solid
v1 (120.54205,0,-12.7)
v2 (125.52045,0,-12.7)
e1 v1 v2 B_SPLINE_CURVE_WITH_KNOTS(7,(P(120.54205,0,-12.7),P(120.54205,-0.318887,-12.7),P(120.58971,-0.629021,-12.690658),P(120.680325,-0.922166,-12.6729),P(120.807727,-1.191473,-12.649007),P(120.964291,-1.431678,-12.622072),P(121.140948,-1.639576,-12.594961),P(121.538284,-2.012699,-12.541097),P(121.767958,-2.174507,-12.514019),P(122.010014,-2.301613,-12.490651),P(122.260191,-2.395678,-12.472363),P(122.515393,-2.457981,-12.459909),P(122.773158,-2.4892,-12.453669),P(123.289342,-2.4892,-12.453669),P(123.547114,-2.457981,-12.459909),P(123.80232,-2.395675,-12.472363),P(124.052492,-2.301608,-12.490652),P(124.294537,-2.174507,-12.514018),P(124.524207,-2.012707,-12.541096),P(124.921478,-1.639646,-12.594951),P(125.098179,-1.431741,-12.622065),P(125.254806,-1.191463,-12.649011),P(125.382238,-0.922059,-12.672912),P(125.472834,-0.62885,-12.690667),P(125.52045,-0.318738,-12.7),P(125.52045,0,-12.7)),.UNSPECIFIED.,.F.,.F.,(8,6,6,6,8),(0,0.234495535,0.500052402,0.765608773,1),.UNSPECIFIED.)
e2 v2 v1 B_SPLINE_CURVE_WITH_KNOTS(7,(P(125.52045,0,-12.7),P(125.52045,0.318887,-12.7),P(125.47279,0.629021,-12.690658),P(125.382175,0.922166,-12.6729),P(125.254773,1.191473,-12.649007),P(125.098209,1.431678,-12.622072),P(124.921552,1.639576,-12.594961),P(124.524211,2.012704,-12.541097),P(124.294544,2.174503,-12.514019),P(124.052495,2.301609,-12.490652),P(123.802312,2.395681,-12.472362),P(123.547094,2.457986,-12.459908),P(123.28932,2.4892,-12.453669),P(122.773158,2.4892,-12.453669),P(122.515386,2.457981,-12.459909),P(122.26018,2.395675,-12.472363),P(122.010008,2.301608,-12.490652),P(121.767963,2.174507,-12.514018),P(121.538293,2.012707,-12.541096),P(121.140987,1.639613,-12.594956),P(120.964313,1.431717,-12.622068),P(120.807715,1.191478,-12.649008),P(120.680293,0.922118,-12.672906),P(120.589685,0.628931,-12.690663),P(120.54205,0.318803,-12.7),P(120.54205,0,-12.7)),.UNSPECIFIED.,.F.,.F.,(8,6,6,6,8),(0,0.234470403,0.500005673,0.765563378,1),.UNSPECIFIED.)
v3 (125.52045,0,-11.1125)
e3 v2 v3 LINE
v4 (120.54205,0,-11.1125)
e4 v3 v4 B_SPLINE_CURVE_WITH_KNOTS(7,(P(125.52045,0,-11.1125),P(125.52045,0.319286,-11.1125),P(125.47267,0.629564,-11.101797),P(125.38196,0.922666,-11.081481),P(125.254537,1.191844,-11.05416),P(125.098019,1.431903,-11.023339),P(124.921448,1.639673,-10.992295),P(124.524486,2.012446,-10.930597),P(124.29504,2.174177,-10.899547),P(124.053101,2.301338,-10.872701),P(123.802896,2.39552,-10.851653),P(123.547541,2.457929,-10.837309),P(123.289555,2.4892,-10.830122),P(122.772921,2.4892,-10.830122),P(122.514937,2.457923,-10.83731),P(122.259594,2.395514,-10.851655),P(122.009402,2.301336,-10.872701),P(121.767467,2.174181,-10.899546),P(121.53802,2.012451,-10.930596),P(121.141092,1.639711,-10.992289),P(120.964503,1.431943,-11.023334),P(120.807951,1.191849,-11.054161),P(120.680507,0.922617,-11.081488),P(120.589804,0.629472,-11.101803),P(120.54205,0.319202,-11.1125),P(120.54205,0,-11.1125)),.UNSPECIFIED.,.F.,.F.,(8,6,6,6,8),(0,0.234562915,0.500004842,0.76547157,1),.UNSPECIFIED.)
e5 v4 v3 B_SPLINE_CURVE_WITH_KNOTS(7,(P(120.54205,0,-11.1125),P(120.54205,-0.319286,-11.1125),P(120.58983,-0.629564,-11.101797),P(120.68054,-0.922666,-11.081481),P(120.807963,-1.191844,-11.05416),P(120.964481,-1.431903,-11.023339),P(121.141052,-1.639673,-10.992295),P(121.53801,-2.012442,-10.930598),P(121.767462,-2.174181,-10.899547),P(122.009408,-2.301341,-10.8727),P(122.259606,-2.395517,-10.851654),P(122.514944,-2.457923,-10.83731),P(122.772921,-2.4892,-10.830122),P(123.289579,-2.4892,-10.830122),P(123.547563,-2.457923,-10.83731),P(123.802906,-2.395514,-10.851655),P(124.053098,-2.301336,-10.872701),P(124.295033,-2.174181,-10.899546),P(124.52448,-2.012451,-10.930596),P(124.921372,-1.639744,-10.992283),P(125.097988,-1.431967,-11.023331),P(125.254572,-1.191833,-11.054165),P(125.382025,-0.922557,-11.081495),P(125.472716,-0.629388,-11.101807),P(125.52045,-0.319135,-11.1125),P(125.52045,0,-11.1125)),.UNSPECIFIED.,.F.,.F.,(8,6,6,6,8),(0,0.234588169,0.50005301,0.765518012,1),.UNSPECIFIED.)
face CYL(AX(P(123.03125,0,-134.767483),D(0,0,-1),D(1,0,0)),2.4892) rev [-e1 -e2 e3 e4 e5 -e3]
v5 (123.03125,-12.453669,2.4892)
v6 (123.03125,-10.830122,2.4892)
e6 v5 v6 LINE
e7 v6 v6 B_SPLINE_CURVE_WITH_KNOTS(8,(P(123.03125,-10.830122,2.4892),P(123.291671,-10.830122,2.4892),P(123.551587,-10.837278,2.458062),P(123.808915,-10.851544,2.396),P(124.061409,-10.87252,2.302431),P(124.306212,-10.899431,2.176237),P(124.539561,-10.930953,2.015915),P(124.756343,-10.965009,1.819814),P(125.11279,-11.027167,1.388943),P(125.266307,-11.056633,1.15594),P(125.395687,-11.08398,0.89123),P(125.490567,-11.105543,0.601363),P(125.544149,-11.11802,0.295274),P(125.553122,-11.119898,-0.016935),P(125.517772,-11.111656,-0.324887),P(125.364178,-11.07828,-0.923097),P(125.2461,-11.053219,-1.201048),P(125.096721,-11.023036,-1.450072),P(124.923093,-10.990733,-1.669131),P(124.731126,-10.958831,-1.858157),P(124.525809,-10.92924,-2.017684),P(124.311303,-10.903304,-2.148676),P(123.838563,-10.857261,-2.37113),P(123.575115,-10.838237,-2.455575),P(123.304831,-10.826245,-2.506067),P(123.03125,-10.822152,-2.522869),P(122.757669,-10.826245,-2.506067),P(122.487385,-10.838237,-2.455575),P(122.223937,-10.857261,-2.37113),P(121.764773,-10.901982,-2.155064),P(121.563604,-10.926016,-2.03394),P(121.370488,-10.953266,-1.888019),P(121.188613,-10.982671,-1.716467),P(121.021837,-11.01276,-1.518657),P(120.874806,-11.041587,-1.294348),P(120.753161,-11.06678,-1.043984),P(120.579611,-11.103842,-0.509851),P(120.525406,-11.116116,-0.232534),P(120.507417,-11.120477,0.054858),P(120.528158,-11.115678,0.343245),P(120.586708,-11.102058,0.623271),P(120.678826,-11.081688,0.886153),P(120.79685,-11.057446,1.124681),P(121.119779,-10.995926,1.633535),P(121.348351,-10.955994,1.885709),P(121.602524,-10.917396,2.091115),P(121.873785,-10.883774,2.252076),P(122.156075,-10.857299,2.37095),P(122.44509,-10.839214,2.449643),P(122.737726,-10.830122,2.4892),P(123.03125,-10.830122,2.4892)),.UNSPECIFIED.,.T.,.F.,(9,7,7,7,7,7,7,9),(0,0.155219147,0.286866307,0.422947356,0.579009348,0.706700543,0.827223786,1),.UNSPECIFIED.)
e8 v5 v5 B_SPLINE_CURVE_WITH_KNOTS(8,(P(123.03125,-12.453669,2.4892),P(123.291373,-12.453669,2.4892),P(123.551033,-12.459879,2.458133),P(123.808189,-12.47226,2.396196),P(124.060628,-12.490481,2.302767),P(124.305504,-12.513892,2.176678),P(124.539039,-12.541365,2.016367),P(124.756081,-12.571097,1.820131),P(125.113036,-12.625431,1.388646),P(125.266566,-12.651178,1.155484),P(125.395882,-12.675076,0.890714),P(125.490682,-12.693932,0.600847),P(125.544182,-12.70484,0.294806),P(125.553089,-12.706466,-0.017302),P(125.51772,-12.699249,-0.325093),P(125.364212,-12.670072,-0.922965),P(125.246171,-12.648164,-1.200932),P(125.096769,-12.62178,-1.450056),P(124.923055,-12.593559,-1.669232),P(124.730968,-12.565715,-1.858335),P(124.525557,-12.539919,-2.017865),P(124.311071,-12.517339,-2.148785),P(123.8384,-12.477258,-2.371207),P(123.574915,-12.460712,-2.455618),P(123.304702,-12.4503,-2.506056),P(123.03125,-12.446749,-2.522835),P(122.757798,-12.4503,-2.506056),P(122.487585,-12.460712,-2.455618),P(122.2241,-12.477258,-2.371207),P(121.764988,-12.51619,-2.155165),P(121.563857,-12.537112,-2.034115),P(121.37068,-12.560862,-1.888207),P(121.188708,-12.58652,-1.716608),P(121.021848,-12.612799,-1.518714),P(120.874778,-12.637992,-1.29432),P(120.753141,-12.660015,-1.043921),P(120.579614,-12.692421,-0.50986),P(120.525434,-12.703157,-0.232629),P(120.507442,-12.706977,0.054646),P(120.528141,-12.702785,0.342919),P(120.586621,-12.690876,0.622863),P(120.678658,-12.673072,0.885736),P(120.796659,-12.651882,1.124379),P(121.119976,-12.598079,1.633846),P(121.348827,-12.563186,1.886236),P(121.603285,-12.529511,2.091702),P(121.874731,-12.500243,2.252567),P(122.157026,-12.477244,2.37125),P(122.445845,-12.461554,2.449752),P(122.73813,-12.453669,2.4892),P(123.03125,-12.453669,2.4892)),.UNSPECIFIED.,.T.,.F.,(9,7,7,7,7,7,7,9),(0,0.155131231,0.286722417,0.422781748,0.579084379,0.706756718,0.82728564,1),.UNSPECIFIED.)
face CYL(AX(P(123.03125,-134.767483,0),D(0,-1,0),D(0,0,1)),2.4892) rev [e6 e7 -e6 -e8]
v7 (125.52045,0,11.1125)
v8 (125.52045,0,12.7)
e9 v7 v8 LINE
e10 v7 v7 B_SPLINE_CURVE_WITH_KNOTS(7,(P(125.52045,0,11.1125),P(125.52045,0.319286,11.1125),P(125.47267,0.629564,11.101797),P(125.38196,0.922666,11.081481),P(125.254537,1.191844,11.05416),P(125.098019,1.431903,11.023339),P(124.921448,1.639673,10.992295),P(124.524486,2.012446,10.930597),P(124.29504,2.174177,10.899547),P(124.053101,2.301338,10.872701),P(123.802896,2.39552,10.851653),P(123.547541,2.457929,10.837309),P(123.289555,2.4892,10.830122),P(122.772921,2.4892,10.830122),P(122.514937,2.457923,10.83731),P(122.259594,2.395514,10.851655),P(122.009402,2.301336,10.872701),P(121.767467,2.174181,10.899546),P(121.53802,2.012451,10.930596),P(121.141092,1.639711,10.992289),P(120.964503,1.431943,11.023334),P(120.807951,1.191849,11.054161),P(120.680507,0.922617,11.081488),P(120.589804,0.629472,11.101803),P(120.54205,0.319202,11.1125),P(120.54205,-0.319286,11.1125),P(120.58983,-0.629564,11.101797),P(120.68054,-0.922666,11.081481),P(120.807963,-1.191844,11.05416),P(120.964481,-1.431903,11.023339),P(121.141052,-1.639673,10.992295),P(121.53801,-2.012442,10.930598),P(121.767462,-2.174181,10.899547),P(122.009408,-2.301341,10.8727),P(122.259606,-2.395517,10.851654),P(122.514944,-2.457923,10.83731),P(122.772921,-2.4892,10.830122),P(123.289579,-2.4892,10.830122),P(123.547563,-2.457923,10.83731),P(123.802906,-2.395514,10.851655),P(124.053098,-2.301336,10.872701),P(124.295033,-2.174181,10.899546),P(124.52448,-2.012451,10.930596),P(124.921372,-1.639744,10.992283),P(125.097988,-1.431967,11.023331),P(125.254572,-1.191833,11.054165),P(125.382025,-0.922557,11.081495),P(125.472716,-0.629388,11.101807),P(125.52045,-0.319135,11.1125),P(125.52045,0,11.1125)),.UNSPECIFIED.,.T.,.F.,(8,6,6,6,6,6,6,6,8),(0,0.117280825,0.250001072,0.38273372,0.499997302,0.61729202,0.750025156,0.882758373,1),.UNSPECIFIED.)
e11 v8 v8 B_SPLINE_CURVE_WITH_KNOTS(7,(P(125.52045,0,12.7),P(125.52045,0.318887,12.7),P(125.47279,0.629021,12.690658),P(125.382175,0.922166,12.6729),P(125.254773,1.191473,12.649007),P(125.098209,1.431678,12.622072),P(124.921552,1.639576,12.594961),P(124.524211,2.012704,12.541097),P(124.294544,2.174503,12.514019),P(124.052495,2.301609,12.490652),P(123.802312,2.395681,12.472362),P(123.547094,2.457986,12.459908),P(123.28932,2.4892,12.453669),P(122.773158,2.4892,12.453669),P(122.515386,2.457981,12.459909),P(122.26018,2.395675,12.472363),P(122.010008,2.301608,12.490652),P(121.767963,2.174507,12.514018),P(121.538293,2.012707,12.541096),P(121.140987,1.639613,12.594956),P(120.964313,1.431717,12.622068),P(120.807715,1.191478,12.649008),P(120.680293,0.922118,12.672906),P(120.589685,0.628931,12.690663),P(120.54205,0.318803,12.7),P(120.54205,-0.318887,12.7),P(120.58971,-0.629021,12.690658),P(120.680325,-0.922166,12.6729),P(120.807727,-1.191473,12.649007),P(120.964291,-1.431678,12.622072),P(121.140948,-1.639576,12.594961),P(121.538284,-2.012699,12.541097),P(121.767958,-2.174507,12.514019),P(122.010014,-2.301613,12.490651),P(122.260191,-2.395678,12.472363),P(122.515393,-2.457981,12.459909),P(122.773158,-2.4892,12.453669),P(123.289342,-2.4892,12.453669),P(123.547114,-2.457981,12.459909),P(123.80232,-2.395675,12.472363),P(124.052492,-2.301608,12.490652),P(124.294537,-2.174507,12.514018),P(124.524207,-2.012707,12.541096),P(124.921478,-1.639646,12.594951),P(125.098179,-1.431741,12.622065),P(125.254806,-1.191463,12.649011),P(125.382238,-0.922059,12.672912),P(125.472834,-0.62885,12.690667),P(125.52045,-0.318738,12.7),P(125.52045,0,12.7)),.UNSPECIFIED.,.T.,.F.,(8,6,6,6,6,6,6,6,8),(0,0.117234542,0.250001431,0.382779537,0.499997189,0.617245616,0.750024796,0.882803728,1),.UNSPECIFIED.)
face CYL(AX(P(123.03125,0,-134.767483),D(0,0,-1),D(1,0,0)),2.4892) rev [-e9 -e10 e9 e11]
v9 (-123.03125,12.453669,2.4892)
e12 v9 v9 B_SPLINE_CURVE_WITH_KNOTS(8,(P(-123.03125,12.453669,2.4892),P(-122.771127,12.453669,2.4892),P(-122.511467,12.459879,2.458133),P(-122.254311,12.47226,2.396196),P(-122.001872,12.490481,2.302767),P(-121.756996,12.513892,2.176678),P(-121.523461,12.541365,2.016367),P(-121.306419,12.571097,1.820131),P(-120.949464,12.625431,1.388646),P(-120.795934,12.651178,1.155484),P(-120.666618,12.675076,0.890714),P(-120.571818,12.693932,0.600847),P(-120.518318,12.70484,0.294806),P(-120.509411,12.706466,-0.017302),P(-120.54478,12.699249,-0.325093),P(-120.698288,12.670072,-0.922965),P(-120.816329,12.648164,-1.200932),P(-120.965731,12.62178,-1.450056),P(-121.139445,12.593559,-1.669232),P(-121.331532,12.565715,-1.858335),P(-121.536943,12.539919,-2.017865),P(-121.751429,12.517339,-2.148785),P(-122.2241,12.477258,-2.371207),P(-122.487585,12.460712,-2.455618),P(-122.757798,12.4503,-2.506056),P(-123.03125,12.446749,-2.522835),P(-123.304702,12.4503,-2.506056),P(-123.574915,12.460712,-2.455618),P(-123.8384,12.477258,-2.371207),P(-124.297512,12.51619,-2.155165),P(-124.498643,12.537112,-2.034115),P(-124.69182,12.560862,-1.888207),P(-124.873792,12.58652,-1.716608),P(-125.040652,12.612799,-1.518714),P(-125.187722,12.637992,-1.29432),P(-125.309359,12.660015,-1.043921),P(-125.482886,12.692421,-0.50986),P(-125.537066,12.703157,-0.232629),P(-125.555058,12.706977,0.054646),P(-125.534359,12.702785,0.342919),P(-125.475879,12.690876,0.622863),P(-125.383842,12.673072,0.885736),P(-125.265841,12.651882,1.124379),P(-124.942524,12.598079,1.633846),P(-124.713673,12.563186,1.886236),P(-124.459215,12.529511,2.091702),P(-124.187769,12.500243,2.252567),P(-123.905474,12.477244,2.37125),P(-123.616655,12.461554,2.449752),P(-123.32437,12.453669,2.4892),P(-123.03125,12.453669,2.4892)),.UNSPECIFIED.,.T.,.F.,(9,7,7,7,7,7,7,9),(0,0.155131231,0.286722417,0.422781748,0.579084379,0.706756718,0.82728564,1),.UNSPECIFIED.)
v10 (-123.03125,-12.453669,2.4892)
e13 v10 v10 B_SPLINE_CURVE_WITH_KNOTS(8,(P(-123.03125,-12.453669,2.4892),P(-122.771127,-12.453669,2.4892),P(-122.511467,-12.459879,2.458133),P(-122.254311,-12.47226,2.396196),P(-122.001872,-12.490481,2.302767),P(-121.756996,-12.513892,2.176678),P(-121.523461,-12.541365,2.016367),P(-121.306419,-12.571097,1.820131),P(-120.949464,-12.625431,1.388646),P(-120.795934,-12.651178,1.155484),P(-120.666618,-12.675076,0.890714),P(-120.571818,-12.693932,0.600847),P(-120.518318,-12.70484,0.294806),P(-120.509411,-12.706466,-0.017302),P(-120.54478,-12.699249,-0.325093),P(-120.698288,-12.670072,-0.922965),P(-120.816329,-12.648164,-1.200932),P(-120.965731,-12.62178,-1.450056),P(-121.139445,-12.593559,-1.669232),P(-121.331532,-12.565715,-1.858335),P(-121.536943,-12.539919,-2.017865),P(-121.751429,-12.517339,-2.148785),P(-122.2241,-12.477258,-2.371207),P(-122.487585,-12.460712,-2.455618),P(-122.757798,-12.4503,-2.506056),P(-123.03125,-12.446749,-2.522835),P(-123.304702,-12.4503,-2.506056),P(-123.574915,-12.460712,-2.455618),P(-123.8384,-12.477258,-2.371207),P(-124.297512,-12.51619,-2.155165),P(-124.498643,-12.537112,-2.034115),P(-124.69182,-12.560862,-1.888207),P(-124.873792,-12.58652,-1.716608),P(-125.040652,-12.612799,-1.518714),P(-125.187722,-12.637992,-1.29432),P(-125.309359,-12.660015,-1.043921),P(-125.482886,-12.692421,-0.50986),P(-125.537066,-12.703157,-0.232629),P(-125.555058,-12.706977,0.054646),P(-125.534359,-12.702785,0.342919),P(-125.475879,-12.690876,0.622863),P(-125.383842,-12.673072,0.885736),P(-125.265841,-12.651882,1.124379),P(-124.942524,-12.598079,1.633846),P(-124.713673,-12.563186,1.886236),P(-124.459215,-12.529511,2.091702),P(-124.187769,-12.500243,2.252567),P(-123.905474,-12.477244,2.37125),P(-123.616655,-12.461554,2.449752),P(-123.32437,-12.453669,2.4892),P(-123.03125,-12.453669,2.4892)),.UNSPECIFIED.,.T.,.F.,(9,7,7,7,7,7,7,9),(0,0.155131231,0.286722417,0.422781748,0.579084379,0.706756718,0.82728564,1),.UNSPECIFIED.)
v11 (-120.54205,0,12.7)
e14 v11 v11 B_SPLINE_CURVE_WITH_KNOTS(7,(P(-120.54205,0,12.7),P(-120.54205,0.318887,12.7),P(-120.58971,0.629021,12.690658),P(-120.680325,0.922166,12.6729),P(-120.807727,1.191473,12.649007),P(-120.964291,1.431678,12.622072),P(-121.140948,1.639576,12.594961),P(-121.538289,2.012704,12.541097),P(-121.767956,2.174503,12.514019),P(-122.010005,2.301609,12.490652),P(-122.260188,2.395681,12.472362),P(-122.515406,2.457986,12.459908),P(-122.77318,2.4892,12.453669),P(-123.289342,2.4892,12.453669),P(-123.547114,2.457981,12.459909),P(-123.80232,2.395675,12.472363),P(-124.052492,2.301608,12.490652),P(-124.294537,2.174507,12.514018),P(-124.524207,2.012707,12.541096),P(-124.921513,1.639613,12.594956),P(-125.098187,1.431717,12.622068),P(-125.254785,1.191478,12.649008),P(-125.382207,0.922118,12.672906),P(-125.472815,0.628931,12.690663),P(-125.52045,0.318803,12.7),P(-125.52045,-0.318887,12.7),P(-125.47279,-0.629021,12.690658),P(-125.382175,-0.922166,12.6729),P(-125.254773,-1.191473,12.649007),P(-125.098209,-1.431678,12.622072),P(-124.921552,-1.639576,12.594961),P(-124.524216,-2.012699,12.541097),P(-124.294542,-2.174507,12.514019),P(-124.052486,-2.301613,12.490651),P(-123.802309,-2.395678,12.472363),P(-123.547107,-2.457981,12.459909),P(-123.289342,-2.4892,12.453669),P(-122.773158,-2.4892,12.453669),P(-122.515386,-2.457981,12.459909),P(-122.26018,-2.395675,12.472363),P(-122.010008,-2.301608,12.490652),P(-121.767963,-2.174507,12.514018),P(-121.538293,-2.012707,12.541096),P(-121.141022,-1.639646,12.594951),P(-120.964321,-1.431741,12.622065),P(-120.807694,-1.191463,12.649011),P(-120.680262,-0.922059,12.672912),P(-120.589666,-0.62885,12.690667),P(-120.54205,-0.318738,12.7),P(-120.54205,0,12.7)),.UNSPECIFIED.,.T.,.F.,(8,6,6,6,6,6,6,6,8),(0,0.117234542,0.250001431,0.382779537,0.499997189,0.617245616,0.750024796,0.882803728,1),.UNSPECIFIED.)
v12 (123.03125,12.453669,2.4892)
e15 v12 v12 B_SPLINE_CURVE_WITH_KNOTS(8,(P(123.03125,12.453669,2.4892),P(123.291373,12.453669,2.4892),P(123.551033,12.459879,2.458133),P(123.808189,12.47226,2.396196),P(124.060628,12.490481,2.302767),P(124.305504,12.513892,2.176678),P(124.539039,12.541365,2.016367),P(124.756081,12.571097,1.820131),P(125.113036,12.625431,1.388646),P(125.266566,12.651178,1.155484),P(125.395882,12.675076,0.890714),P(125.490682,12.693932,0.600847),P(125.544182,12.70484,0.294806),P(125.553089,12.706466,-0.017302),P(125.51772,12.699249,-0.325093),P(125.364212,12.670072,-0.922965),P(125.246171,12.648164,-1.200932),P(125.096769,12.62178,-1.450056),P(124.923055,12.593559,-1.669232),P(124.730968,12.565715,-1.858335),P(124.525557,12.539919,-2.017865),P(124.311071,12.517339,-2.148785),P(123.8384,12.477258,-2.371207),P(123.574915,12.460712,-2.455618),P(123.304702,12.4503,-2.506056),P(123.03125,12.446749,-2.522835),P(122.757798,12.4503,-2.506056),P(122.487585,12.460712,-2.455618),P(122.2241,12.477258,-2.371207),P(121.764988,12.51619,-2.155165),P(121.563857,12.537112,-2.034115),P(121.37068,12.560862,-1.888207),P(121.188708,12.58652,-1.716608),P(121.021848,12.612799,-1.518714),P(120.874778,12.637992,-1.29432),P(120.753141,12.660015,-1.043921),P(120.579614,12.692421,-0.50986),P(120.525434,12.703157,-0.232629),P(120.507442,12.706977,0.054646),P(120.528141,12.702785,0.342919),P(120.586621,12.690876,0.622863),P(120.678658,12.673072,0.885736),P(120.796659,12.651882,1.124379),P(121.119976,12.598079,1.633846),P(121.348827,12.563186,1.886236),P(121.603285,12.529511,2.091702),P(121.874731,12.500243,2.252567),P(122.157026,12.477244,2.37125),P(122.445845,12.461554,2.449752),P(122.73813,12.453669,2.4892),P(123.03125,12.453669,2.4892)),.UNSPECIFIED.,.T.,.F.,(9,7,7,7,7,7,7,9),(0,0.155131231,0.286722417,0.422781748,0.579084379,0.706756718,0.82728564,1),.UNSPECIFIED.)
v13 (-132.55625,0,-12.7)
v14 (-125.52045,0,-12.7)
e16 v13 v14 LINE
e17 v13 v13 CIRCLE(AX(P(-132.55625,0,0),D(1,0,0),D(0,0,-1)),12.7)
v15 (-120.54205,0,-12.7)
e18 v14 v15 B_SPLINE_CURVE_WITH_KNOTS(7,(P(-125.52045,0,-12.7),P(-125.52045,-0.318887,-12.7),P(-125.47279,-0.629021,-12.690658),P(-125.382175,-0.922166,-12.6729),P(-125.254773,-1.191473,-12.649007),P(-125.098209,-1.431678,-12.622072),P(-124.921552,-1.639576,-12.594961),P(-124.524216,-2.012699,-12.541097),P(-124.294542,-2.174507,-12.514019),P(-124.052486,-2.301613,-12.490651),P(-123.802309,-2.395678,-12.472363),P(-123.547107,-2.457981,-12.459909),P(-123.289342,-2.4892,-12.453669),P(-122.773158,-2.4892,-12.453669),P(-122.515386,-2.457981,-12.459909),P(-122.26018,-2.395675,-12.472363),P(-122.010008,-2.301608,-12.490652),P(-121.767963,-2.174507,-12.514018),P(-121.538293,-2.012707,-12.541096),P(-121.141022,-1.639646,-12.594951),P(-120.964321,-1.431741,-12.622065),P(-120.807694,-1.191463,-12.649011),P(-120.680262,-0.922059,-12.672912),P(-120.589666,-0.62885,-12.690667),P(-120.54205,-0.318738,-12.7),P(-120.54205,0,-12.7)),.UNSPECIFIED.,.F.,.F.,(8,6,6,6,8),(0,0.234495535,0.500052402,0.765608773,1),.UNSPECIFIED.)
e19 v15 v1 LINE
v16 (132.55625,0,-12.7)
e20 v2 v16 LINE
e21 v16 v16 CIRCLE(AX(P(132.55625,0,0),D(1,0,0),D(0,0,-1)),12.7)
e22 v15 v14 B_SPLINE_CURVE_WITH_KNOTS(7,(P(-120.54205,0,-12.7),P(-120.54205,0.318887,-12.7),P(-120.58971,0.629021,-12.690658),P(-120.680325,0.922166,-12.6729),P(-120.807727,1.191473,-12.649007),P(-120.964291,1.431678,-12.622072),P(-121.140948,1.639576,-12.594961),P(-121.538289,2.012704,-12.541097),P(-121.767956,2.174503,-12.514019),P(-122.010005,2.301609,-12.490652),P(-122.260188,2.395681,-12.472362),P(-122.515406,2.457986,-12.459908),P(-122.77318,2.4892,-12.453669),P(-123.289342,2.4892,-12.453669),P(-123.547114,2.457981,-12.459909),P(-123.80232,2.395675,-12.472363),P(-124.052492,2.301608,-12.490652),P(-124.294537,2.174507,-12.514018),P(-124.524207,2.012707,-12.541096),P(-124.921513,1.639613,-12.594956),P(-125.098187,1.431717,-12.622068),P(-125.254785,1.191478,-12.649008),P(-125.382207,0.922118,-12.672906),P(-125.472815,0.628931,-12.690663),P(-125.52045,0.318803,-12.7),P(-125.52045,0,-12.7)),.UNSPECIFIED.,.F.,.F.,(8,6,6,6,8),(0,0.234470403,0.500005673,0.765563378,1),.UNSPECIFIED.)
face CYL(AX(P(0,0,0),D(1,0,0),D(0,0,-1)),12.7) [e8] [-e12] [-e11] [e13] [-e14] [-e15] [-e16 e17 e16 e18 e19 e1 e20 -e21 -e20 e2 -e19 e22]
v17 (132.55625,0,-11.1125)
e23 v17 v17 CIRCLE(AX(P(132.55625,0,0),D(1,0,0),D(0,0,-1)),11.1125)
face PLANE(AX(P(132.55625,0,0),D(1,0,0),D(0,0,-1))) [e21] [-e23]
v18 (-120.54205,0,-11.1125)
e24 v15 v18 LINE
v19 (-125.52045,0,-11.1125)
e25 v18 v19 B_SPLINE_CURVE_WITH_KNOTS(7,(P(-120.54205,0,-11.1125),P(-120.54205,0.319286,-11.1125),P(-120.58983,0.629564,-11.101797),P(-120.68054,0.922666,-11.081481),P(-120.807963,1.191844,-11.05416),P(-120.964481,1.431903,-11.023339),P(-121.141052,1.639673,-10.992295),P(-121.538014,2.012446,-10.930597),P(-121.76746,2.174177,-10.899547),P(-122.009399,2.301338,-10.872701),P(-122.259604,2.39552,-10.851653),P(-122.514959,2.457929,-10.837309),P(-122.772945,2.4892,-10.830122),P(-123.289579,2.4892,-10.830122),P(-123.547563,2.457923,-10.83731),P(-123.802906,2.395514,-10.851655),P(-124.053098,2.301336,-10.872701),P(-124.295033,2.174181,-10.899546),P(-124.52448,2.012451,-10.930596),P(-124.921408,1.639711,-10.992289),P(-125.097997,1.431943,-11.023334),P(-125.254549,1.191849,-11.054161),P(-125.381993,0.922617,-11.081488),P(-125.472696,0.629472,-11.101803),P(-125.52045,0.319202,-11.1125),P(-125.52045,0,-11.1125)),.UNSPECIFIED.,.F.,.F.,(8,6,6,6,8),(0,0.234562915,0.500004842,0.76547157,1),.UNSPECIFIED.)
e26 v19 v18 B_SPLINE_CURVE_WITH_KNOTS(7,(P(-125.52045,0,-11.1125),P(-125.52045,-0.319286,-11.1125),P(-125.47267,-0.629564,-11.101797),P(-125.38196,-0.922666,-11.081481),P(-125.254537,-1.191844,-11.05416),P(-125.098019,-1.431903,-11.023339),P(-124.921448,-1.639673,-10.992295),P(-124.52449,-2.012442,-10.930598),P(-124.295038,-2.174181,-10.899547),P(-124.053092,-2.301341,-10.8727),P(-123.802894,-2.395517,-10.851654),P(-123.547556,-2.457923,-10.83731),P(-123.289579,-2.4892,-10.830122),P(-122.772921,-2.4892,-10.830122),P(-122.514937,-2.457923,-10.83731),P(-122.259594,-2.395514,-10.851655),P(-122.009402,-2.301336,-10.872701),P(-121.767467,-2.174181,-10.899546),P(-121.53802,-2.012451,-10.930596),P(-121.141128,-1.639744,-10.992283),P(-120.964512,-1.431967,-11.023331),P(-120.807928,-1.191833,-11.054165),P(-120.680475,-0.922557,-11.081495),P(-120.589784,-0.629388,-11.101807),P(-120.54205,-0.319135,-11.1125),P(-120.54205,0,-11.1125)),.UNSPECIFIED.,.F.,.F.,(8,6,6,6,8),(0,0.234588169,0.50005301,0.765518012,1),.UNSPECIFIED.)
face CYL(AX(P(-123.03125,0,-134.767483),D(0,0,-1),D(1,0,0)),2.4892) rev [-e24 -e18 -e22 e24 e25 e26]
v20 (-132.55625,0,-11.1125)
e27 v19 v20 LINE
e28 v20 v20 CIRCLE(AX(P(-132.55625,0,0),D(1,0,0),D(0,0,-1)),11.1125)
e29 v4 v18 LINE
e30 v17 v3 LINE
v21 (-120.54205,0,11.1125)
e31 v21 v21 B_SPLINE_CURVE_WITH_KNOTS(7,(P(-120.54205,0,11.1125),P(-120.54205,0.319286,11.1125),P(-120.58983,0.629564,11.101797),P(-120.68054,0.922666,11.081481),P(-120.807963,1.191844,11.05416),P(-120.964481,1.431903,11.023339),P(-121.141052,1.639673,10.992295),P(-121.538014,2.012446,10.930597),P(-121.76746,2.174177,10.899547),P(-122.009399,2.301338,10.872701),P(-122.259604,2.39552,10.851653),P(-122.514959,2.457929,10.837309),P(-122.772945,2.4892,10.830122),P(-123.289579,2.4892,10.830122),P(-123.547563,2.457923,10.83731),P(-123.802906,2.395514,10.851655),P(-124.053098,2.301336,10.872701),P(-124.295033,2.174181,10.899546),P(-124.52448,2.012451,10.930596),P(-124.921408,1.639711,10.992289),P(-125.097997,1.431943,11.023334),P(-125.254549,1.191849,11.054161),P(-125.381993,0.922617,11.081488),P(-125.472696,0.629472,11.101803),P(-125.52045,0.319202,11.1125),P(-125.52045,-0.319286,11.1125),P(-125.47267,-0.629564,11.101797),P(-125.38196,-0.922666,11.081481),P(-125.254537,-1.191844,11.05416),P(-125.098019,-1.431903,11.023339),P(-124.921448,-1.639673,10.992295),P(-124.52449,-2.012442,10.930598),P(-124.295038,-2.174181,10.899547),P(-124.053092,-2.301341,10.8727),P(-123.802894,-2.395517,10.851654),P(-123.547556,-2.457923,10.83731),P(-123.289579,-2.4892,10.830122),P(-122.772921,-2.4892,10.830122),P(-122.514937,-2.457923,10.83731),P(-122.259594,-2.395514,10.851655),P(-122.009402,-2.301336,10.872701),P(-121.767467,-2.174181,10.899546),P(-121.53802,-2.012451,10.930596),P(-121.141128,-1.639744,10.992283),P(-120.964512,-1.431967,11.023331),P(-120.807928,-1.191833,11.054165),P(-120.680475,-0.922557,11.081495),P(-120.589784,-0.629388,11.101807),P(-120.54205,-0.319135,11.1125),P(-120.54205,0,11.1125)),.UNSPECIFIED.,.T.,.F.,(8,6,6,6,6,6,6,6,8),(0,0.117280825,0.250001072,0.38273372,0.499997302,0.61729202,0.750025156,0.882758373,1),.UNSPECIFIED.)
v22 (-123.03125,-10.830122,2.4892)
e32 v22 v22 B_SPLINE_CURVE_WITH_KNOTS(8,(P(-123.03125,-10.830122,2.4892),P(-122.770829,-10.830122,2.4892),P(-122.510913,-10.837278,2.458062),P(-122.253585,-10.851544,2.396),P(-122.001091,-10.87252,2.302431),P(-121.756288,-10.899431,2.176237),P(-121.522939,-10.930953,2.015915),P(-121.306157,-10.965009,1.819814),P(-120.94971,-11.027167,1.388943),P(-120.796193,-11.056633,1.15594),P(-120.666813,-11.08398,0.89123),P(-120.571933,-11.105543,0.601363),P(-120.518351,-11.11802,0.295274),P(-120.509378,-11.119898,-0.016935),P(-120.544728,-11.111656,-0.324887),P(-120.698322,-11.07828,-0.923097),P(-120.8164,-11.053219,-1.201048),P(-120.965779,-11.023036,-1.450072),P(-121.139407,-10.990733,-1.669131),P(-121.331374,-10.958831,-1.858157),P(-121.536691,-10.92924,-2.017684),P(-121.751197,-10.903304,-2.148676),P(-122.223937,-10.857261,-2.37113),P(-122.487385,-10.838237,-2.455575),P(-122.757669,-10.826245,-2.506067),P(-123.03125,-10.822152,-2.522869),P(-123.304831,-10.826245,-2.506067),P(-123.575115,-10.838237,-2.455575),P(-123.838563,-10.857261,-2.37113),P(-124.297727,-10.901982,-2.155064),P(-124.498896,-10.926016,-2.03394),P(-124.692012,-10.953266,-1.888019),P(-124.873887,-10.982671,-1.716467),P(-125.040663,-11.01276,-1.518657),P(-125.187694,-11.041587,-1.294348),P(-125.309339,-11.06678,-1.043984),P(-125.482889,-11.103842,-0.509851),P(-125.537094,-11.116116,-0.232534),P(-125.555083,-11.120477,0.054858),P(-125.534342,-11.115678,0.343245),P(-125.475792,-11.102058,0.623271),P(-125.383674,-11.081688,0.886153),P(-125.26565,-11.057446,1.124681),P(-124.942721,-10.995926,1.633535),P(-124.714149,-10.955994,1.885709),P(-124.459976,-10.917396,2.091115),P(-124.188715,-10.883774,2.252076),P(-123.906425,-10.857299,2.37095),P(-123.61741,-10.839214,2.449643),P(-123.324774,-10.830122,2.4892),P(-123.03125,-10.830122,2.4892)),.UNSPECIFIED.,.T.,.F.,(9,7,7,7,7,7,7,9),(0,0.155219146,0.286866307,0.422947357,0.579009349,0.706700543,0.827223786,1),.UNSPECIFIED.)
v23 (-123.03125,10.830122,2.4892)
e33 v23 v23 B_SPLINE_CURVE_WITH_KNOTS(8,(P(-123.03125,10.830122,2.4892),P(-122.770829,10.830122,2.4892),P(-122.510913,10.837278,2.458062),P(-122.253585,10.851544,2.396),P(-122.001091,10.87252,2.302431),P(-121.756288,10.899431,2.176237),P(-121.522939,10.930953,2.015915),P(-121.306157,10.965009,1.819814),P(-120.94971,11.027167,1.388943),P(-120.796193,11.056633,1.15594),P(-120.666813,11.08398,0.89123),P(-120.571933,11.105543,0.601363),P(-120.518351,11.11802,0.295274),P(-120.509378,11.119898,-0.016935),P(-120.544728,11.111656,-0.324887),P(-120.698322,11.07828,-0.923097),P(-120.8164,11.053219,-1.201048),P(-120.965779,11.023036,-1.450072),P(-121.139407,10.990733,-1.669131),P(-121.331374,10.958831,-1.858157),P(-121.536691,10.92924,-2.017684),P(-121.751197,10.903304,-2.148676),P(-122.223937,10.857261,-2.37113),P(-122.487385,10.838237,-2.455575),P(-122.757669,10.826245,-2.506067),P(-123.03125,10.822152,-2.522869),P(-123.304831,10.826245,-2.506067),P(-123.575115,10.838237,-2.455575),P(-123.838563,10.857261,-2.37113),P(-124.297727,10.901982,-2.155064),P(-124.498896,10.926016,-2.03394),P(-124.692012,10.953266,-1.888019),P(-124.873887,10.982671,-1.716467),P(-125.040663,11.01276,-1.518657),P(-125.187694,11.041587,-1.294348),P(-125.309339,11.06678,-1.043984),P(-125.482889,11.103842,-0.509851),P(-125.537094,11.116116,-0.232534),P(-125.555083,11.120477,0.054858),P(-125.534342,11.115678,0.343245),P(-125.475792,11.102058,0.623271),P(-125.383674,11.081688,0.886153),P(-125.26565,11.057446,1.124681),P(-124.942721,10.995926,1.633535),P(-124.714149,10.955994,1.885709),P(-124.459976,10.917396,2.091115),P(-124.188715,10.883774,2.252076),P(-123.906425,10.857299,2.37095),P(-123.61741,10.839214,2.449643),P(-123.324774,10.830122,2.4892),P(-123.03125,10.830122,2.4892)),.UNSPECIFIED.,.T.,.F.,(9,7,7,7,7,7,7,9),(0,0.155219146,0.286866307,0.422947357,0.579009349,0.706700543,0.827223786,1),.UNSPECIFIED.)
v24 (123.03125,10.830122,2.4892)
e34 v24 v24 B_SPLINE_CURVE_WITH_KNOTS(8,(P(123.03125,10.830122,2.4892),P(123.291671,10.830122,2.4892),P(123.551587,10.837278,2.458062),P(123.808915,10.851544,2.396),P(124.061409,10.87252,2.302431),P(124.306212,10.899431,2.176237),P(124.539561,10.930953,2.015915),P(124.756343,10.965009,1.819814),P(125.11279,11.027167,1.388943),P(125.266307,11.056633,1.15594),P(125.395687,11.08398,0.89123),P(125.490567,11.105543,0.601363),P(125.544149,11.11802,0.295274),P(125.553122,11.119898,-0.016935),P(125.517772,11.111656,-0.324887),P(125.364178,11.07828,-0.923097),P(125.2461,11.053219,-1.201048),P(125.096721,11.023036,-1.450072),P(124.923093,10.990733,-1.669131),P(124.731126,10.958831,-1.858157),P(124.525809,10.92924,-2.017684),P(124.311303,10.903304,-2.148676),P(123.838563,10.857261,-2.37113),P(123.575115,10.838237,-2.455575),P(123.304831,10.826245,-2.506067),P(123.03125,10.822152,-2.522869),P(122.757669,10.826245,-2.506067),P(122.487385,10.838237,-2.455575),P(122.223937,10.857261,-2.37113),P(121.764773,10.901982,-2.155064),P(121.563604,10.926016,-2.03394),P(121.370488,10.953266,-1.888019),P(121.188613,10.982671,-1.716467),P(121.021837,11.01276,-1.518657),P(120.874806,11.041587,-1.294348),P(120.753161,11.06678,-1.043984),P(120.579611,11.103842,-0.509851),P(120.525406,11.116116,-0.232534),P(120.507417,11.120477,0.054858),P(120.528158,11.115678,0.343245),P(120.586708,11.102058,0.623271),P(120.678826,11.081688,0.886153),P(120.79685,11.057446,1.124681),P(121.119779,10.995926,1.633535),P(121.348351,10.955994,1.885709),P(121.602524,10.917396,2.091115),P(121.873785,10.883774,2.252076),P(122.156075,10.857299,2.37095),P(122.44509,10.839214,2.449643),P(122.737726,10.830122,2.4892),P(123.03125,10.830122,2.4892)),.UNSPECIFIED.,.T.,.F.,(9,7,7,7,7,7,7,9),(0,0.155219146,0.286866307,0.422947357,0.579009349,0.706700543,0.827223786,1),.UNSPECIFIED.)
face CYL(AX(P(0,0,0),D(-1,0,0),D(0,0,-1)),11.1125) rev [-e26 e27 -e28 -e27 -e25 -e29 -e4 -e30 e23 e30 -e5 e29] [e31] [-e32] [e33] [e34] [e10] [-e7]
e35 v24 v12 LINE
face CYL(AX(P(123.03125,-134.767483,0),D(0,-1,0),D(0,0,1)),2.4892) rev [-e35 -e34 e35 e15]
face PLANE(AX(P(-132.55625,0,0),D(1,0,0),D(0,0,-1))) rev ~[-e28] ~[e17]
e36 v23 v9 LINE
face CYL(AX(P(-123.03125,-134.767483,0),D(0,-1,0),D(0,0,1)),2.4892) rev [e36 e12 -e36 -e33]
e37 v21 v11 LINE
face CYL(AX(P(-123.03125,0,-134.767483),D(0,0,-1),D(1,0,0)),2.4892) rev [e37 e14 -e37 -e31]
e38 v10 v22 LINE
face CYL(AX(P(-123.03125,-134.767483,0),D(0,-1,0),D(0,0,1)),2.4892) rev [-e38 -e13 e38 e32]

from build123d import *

# Parameters (mm, degrees)
SKETCH1_R               = 12.7
SKETCH1_R_2             = 11.1125
EXTRUDE_THIN1_DEPTH     = 132.55625
CUT_EXTRUDE1_DEPTH      = 134.767482648
CUT_EXTRUDE1_DEPTH_BACK = 134.767482648
SKETCH3_R               = 2.4892
CUT_EXTRUDE2_DEPTH      = 134.767482766
CUT_EXTRUDE2_DEPTH_BACK = 134.767482766
SKETCH4_R               = 2.4892


with BuildPart() as part:
    # Sketch1 → Extrude-Thin1 (new, symmetric)
    with BuildSketch(Plane(origin=(0, 0, 0), x_dir=(0, 0, -1), z_dir=(1, 0, 0))):
        Circle(SKETCH1_R)
        Circle(SKETCH1_R_2, mode=Mode.SUBTRACT)
    extrude(amount=EXTRUDE_THIN1_DEPTH, both=True)

    # Sketch3 → Cut-Extrude1 (cut, two sides: drawn at the far end of the back side and taken through both)
    with BuildSketch(Plane.XY.offset(-CUT_EXTRUDE1_DEPTH_BACK)):
        with Locations((123.03125, 0)):
            Circle(SKETCH3_R)
        with Locations((-123.03125, 0)):
            Circle(SKETCH3_R)
    extrude(amount=CUT_EXTRUDE1_DEPTH + CUT_EXTRUDE1_DEPTH_BACK, mode=Mode.SUBTRACT)

    # Sketch4 → Cut-Extrude2 (cut, two sides: drawn at the far end of the back side and taken through both)
    with BuildSketch(Plane(origin=(0, 0, 0), x_dir=(1, 0, 0), z_dir=(0, 1, 0)).offset(-CUT_EXTRUDE2_DEPTH_BACK)):
        with Locations(Location((123.03125, 0, 0), (0, 0, 270))):
            Circle(SKETCH4_R)
        with Locations(Location((-123.03125, 0, 0), (0, 0, 270))):
            Circle(SKETCH4_R)
    extrude(amount=CUT_EXTRUDE2_DEPTH + CUT_EXTRUDE2_DEPTH_BACK, mode=Mode.SUBTRACT)


solid = part.part
